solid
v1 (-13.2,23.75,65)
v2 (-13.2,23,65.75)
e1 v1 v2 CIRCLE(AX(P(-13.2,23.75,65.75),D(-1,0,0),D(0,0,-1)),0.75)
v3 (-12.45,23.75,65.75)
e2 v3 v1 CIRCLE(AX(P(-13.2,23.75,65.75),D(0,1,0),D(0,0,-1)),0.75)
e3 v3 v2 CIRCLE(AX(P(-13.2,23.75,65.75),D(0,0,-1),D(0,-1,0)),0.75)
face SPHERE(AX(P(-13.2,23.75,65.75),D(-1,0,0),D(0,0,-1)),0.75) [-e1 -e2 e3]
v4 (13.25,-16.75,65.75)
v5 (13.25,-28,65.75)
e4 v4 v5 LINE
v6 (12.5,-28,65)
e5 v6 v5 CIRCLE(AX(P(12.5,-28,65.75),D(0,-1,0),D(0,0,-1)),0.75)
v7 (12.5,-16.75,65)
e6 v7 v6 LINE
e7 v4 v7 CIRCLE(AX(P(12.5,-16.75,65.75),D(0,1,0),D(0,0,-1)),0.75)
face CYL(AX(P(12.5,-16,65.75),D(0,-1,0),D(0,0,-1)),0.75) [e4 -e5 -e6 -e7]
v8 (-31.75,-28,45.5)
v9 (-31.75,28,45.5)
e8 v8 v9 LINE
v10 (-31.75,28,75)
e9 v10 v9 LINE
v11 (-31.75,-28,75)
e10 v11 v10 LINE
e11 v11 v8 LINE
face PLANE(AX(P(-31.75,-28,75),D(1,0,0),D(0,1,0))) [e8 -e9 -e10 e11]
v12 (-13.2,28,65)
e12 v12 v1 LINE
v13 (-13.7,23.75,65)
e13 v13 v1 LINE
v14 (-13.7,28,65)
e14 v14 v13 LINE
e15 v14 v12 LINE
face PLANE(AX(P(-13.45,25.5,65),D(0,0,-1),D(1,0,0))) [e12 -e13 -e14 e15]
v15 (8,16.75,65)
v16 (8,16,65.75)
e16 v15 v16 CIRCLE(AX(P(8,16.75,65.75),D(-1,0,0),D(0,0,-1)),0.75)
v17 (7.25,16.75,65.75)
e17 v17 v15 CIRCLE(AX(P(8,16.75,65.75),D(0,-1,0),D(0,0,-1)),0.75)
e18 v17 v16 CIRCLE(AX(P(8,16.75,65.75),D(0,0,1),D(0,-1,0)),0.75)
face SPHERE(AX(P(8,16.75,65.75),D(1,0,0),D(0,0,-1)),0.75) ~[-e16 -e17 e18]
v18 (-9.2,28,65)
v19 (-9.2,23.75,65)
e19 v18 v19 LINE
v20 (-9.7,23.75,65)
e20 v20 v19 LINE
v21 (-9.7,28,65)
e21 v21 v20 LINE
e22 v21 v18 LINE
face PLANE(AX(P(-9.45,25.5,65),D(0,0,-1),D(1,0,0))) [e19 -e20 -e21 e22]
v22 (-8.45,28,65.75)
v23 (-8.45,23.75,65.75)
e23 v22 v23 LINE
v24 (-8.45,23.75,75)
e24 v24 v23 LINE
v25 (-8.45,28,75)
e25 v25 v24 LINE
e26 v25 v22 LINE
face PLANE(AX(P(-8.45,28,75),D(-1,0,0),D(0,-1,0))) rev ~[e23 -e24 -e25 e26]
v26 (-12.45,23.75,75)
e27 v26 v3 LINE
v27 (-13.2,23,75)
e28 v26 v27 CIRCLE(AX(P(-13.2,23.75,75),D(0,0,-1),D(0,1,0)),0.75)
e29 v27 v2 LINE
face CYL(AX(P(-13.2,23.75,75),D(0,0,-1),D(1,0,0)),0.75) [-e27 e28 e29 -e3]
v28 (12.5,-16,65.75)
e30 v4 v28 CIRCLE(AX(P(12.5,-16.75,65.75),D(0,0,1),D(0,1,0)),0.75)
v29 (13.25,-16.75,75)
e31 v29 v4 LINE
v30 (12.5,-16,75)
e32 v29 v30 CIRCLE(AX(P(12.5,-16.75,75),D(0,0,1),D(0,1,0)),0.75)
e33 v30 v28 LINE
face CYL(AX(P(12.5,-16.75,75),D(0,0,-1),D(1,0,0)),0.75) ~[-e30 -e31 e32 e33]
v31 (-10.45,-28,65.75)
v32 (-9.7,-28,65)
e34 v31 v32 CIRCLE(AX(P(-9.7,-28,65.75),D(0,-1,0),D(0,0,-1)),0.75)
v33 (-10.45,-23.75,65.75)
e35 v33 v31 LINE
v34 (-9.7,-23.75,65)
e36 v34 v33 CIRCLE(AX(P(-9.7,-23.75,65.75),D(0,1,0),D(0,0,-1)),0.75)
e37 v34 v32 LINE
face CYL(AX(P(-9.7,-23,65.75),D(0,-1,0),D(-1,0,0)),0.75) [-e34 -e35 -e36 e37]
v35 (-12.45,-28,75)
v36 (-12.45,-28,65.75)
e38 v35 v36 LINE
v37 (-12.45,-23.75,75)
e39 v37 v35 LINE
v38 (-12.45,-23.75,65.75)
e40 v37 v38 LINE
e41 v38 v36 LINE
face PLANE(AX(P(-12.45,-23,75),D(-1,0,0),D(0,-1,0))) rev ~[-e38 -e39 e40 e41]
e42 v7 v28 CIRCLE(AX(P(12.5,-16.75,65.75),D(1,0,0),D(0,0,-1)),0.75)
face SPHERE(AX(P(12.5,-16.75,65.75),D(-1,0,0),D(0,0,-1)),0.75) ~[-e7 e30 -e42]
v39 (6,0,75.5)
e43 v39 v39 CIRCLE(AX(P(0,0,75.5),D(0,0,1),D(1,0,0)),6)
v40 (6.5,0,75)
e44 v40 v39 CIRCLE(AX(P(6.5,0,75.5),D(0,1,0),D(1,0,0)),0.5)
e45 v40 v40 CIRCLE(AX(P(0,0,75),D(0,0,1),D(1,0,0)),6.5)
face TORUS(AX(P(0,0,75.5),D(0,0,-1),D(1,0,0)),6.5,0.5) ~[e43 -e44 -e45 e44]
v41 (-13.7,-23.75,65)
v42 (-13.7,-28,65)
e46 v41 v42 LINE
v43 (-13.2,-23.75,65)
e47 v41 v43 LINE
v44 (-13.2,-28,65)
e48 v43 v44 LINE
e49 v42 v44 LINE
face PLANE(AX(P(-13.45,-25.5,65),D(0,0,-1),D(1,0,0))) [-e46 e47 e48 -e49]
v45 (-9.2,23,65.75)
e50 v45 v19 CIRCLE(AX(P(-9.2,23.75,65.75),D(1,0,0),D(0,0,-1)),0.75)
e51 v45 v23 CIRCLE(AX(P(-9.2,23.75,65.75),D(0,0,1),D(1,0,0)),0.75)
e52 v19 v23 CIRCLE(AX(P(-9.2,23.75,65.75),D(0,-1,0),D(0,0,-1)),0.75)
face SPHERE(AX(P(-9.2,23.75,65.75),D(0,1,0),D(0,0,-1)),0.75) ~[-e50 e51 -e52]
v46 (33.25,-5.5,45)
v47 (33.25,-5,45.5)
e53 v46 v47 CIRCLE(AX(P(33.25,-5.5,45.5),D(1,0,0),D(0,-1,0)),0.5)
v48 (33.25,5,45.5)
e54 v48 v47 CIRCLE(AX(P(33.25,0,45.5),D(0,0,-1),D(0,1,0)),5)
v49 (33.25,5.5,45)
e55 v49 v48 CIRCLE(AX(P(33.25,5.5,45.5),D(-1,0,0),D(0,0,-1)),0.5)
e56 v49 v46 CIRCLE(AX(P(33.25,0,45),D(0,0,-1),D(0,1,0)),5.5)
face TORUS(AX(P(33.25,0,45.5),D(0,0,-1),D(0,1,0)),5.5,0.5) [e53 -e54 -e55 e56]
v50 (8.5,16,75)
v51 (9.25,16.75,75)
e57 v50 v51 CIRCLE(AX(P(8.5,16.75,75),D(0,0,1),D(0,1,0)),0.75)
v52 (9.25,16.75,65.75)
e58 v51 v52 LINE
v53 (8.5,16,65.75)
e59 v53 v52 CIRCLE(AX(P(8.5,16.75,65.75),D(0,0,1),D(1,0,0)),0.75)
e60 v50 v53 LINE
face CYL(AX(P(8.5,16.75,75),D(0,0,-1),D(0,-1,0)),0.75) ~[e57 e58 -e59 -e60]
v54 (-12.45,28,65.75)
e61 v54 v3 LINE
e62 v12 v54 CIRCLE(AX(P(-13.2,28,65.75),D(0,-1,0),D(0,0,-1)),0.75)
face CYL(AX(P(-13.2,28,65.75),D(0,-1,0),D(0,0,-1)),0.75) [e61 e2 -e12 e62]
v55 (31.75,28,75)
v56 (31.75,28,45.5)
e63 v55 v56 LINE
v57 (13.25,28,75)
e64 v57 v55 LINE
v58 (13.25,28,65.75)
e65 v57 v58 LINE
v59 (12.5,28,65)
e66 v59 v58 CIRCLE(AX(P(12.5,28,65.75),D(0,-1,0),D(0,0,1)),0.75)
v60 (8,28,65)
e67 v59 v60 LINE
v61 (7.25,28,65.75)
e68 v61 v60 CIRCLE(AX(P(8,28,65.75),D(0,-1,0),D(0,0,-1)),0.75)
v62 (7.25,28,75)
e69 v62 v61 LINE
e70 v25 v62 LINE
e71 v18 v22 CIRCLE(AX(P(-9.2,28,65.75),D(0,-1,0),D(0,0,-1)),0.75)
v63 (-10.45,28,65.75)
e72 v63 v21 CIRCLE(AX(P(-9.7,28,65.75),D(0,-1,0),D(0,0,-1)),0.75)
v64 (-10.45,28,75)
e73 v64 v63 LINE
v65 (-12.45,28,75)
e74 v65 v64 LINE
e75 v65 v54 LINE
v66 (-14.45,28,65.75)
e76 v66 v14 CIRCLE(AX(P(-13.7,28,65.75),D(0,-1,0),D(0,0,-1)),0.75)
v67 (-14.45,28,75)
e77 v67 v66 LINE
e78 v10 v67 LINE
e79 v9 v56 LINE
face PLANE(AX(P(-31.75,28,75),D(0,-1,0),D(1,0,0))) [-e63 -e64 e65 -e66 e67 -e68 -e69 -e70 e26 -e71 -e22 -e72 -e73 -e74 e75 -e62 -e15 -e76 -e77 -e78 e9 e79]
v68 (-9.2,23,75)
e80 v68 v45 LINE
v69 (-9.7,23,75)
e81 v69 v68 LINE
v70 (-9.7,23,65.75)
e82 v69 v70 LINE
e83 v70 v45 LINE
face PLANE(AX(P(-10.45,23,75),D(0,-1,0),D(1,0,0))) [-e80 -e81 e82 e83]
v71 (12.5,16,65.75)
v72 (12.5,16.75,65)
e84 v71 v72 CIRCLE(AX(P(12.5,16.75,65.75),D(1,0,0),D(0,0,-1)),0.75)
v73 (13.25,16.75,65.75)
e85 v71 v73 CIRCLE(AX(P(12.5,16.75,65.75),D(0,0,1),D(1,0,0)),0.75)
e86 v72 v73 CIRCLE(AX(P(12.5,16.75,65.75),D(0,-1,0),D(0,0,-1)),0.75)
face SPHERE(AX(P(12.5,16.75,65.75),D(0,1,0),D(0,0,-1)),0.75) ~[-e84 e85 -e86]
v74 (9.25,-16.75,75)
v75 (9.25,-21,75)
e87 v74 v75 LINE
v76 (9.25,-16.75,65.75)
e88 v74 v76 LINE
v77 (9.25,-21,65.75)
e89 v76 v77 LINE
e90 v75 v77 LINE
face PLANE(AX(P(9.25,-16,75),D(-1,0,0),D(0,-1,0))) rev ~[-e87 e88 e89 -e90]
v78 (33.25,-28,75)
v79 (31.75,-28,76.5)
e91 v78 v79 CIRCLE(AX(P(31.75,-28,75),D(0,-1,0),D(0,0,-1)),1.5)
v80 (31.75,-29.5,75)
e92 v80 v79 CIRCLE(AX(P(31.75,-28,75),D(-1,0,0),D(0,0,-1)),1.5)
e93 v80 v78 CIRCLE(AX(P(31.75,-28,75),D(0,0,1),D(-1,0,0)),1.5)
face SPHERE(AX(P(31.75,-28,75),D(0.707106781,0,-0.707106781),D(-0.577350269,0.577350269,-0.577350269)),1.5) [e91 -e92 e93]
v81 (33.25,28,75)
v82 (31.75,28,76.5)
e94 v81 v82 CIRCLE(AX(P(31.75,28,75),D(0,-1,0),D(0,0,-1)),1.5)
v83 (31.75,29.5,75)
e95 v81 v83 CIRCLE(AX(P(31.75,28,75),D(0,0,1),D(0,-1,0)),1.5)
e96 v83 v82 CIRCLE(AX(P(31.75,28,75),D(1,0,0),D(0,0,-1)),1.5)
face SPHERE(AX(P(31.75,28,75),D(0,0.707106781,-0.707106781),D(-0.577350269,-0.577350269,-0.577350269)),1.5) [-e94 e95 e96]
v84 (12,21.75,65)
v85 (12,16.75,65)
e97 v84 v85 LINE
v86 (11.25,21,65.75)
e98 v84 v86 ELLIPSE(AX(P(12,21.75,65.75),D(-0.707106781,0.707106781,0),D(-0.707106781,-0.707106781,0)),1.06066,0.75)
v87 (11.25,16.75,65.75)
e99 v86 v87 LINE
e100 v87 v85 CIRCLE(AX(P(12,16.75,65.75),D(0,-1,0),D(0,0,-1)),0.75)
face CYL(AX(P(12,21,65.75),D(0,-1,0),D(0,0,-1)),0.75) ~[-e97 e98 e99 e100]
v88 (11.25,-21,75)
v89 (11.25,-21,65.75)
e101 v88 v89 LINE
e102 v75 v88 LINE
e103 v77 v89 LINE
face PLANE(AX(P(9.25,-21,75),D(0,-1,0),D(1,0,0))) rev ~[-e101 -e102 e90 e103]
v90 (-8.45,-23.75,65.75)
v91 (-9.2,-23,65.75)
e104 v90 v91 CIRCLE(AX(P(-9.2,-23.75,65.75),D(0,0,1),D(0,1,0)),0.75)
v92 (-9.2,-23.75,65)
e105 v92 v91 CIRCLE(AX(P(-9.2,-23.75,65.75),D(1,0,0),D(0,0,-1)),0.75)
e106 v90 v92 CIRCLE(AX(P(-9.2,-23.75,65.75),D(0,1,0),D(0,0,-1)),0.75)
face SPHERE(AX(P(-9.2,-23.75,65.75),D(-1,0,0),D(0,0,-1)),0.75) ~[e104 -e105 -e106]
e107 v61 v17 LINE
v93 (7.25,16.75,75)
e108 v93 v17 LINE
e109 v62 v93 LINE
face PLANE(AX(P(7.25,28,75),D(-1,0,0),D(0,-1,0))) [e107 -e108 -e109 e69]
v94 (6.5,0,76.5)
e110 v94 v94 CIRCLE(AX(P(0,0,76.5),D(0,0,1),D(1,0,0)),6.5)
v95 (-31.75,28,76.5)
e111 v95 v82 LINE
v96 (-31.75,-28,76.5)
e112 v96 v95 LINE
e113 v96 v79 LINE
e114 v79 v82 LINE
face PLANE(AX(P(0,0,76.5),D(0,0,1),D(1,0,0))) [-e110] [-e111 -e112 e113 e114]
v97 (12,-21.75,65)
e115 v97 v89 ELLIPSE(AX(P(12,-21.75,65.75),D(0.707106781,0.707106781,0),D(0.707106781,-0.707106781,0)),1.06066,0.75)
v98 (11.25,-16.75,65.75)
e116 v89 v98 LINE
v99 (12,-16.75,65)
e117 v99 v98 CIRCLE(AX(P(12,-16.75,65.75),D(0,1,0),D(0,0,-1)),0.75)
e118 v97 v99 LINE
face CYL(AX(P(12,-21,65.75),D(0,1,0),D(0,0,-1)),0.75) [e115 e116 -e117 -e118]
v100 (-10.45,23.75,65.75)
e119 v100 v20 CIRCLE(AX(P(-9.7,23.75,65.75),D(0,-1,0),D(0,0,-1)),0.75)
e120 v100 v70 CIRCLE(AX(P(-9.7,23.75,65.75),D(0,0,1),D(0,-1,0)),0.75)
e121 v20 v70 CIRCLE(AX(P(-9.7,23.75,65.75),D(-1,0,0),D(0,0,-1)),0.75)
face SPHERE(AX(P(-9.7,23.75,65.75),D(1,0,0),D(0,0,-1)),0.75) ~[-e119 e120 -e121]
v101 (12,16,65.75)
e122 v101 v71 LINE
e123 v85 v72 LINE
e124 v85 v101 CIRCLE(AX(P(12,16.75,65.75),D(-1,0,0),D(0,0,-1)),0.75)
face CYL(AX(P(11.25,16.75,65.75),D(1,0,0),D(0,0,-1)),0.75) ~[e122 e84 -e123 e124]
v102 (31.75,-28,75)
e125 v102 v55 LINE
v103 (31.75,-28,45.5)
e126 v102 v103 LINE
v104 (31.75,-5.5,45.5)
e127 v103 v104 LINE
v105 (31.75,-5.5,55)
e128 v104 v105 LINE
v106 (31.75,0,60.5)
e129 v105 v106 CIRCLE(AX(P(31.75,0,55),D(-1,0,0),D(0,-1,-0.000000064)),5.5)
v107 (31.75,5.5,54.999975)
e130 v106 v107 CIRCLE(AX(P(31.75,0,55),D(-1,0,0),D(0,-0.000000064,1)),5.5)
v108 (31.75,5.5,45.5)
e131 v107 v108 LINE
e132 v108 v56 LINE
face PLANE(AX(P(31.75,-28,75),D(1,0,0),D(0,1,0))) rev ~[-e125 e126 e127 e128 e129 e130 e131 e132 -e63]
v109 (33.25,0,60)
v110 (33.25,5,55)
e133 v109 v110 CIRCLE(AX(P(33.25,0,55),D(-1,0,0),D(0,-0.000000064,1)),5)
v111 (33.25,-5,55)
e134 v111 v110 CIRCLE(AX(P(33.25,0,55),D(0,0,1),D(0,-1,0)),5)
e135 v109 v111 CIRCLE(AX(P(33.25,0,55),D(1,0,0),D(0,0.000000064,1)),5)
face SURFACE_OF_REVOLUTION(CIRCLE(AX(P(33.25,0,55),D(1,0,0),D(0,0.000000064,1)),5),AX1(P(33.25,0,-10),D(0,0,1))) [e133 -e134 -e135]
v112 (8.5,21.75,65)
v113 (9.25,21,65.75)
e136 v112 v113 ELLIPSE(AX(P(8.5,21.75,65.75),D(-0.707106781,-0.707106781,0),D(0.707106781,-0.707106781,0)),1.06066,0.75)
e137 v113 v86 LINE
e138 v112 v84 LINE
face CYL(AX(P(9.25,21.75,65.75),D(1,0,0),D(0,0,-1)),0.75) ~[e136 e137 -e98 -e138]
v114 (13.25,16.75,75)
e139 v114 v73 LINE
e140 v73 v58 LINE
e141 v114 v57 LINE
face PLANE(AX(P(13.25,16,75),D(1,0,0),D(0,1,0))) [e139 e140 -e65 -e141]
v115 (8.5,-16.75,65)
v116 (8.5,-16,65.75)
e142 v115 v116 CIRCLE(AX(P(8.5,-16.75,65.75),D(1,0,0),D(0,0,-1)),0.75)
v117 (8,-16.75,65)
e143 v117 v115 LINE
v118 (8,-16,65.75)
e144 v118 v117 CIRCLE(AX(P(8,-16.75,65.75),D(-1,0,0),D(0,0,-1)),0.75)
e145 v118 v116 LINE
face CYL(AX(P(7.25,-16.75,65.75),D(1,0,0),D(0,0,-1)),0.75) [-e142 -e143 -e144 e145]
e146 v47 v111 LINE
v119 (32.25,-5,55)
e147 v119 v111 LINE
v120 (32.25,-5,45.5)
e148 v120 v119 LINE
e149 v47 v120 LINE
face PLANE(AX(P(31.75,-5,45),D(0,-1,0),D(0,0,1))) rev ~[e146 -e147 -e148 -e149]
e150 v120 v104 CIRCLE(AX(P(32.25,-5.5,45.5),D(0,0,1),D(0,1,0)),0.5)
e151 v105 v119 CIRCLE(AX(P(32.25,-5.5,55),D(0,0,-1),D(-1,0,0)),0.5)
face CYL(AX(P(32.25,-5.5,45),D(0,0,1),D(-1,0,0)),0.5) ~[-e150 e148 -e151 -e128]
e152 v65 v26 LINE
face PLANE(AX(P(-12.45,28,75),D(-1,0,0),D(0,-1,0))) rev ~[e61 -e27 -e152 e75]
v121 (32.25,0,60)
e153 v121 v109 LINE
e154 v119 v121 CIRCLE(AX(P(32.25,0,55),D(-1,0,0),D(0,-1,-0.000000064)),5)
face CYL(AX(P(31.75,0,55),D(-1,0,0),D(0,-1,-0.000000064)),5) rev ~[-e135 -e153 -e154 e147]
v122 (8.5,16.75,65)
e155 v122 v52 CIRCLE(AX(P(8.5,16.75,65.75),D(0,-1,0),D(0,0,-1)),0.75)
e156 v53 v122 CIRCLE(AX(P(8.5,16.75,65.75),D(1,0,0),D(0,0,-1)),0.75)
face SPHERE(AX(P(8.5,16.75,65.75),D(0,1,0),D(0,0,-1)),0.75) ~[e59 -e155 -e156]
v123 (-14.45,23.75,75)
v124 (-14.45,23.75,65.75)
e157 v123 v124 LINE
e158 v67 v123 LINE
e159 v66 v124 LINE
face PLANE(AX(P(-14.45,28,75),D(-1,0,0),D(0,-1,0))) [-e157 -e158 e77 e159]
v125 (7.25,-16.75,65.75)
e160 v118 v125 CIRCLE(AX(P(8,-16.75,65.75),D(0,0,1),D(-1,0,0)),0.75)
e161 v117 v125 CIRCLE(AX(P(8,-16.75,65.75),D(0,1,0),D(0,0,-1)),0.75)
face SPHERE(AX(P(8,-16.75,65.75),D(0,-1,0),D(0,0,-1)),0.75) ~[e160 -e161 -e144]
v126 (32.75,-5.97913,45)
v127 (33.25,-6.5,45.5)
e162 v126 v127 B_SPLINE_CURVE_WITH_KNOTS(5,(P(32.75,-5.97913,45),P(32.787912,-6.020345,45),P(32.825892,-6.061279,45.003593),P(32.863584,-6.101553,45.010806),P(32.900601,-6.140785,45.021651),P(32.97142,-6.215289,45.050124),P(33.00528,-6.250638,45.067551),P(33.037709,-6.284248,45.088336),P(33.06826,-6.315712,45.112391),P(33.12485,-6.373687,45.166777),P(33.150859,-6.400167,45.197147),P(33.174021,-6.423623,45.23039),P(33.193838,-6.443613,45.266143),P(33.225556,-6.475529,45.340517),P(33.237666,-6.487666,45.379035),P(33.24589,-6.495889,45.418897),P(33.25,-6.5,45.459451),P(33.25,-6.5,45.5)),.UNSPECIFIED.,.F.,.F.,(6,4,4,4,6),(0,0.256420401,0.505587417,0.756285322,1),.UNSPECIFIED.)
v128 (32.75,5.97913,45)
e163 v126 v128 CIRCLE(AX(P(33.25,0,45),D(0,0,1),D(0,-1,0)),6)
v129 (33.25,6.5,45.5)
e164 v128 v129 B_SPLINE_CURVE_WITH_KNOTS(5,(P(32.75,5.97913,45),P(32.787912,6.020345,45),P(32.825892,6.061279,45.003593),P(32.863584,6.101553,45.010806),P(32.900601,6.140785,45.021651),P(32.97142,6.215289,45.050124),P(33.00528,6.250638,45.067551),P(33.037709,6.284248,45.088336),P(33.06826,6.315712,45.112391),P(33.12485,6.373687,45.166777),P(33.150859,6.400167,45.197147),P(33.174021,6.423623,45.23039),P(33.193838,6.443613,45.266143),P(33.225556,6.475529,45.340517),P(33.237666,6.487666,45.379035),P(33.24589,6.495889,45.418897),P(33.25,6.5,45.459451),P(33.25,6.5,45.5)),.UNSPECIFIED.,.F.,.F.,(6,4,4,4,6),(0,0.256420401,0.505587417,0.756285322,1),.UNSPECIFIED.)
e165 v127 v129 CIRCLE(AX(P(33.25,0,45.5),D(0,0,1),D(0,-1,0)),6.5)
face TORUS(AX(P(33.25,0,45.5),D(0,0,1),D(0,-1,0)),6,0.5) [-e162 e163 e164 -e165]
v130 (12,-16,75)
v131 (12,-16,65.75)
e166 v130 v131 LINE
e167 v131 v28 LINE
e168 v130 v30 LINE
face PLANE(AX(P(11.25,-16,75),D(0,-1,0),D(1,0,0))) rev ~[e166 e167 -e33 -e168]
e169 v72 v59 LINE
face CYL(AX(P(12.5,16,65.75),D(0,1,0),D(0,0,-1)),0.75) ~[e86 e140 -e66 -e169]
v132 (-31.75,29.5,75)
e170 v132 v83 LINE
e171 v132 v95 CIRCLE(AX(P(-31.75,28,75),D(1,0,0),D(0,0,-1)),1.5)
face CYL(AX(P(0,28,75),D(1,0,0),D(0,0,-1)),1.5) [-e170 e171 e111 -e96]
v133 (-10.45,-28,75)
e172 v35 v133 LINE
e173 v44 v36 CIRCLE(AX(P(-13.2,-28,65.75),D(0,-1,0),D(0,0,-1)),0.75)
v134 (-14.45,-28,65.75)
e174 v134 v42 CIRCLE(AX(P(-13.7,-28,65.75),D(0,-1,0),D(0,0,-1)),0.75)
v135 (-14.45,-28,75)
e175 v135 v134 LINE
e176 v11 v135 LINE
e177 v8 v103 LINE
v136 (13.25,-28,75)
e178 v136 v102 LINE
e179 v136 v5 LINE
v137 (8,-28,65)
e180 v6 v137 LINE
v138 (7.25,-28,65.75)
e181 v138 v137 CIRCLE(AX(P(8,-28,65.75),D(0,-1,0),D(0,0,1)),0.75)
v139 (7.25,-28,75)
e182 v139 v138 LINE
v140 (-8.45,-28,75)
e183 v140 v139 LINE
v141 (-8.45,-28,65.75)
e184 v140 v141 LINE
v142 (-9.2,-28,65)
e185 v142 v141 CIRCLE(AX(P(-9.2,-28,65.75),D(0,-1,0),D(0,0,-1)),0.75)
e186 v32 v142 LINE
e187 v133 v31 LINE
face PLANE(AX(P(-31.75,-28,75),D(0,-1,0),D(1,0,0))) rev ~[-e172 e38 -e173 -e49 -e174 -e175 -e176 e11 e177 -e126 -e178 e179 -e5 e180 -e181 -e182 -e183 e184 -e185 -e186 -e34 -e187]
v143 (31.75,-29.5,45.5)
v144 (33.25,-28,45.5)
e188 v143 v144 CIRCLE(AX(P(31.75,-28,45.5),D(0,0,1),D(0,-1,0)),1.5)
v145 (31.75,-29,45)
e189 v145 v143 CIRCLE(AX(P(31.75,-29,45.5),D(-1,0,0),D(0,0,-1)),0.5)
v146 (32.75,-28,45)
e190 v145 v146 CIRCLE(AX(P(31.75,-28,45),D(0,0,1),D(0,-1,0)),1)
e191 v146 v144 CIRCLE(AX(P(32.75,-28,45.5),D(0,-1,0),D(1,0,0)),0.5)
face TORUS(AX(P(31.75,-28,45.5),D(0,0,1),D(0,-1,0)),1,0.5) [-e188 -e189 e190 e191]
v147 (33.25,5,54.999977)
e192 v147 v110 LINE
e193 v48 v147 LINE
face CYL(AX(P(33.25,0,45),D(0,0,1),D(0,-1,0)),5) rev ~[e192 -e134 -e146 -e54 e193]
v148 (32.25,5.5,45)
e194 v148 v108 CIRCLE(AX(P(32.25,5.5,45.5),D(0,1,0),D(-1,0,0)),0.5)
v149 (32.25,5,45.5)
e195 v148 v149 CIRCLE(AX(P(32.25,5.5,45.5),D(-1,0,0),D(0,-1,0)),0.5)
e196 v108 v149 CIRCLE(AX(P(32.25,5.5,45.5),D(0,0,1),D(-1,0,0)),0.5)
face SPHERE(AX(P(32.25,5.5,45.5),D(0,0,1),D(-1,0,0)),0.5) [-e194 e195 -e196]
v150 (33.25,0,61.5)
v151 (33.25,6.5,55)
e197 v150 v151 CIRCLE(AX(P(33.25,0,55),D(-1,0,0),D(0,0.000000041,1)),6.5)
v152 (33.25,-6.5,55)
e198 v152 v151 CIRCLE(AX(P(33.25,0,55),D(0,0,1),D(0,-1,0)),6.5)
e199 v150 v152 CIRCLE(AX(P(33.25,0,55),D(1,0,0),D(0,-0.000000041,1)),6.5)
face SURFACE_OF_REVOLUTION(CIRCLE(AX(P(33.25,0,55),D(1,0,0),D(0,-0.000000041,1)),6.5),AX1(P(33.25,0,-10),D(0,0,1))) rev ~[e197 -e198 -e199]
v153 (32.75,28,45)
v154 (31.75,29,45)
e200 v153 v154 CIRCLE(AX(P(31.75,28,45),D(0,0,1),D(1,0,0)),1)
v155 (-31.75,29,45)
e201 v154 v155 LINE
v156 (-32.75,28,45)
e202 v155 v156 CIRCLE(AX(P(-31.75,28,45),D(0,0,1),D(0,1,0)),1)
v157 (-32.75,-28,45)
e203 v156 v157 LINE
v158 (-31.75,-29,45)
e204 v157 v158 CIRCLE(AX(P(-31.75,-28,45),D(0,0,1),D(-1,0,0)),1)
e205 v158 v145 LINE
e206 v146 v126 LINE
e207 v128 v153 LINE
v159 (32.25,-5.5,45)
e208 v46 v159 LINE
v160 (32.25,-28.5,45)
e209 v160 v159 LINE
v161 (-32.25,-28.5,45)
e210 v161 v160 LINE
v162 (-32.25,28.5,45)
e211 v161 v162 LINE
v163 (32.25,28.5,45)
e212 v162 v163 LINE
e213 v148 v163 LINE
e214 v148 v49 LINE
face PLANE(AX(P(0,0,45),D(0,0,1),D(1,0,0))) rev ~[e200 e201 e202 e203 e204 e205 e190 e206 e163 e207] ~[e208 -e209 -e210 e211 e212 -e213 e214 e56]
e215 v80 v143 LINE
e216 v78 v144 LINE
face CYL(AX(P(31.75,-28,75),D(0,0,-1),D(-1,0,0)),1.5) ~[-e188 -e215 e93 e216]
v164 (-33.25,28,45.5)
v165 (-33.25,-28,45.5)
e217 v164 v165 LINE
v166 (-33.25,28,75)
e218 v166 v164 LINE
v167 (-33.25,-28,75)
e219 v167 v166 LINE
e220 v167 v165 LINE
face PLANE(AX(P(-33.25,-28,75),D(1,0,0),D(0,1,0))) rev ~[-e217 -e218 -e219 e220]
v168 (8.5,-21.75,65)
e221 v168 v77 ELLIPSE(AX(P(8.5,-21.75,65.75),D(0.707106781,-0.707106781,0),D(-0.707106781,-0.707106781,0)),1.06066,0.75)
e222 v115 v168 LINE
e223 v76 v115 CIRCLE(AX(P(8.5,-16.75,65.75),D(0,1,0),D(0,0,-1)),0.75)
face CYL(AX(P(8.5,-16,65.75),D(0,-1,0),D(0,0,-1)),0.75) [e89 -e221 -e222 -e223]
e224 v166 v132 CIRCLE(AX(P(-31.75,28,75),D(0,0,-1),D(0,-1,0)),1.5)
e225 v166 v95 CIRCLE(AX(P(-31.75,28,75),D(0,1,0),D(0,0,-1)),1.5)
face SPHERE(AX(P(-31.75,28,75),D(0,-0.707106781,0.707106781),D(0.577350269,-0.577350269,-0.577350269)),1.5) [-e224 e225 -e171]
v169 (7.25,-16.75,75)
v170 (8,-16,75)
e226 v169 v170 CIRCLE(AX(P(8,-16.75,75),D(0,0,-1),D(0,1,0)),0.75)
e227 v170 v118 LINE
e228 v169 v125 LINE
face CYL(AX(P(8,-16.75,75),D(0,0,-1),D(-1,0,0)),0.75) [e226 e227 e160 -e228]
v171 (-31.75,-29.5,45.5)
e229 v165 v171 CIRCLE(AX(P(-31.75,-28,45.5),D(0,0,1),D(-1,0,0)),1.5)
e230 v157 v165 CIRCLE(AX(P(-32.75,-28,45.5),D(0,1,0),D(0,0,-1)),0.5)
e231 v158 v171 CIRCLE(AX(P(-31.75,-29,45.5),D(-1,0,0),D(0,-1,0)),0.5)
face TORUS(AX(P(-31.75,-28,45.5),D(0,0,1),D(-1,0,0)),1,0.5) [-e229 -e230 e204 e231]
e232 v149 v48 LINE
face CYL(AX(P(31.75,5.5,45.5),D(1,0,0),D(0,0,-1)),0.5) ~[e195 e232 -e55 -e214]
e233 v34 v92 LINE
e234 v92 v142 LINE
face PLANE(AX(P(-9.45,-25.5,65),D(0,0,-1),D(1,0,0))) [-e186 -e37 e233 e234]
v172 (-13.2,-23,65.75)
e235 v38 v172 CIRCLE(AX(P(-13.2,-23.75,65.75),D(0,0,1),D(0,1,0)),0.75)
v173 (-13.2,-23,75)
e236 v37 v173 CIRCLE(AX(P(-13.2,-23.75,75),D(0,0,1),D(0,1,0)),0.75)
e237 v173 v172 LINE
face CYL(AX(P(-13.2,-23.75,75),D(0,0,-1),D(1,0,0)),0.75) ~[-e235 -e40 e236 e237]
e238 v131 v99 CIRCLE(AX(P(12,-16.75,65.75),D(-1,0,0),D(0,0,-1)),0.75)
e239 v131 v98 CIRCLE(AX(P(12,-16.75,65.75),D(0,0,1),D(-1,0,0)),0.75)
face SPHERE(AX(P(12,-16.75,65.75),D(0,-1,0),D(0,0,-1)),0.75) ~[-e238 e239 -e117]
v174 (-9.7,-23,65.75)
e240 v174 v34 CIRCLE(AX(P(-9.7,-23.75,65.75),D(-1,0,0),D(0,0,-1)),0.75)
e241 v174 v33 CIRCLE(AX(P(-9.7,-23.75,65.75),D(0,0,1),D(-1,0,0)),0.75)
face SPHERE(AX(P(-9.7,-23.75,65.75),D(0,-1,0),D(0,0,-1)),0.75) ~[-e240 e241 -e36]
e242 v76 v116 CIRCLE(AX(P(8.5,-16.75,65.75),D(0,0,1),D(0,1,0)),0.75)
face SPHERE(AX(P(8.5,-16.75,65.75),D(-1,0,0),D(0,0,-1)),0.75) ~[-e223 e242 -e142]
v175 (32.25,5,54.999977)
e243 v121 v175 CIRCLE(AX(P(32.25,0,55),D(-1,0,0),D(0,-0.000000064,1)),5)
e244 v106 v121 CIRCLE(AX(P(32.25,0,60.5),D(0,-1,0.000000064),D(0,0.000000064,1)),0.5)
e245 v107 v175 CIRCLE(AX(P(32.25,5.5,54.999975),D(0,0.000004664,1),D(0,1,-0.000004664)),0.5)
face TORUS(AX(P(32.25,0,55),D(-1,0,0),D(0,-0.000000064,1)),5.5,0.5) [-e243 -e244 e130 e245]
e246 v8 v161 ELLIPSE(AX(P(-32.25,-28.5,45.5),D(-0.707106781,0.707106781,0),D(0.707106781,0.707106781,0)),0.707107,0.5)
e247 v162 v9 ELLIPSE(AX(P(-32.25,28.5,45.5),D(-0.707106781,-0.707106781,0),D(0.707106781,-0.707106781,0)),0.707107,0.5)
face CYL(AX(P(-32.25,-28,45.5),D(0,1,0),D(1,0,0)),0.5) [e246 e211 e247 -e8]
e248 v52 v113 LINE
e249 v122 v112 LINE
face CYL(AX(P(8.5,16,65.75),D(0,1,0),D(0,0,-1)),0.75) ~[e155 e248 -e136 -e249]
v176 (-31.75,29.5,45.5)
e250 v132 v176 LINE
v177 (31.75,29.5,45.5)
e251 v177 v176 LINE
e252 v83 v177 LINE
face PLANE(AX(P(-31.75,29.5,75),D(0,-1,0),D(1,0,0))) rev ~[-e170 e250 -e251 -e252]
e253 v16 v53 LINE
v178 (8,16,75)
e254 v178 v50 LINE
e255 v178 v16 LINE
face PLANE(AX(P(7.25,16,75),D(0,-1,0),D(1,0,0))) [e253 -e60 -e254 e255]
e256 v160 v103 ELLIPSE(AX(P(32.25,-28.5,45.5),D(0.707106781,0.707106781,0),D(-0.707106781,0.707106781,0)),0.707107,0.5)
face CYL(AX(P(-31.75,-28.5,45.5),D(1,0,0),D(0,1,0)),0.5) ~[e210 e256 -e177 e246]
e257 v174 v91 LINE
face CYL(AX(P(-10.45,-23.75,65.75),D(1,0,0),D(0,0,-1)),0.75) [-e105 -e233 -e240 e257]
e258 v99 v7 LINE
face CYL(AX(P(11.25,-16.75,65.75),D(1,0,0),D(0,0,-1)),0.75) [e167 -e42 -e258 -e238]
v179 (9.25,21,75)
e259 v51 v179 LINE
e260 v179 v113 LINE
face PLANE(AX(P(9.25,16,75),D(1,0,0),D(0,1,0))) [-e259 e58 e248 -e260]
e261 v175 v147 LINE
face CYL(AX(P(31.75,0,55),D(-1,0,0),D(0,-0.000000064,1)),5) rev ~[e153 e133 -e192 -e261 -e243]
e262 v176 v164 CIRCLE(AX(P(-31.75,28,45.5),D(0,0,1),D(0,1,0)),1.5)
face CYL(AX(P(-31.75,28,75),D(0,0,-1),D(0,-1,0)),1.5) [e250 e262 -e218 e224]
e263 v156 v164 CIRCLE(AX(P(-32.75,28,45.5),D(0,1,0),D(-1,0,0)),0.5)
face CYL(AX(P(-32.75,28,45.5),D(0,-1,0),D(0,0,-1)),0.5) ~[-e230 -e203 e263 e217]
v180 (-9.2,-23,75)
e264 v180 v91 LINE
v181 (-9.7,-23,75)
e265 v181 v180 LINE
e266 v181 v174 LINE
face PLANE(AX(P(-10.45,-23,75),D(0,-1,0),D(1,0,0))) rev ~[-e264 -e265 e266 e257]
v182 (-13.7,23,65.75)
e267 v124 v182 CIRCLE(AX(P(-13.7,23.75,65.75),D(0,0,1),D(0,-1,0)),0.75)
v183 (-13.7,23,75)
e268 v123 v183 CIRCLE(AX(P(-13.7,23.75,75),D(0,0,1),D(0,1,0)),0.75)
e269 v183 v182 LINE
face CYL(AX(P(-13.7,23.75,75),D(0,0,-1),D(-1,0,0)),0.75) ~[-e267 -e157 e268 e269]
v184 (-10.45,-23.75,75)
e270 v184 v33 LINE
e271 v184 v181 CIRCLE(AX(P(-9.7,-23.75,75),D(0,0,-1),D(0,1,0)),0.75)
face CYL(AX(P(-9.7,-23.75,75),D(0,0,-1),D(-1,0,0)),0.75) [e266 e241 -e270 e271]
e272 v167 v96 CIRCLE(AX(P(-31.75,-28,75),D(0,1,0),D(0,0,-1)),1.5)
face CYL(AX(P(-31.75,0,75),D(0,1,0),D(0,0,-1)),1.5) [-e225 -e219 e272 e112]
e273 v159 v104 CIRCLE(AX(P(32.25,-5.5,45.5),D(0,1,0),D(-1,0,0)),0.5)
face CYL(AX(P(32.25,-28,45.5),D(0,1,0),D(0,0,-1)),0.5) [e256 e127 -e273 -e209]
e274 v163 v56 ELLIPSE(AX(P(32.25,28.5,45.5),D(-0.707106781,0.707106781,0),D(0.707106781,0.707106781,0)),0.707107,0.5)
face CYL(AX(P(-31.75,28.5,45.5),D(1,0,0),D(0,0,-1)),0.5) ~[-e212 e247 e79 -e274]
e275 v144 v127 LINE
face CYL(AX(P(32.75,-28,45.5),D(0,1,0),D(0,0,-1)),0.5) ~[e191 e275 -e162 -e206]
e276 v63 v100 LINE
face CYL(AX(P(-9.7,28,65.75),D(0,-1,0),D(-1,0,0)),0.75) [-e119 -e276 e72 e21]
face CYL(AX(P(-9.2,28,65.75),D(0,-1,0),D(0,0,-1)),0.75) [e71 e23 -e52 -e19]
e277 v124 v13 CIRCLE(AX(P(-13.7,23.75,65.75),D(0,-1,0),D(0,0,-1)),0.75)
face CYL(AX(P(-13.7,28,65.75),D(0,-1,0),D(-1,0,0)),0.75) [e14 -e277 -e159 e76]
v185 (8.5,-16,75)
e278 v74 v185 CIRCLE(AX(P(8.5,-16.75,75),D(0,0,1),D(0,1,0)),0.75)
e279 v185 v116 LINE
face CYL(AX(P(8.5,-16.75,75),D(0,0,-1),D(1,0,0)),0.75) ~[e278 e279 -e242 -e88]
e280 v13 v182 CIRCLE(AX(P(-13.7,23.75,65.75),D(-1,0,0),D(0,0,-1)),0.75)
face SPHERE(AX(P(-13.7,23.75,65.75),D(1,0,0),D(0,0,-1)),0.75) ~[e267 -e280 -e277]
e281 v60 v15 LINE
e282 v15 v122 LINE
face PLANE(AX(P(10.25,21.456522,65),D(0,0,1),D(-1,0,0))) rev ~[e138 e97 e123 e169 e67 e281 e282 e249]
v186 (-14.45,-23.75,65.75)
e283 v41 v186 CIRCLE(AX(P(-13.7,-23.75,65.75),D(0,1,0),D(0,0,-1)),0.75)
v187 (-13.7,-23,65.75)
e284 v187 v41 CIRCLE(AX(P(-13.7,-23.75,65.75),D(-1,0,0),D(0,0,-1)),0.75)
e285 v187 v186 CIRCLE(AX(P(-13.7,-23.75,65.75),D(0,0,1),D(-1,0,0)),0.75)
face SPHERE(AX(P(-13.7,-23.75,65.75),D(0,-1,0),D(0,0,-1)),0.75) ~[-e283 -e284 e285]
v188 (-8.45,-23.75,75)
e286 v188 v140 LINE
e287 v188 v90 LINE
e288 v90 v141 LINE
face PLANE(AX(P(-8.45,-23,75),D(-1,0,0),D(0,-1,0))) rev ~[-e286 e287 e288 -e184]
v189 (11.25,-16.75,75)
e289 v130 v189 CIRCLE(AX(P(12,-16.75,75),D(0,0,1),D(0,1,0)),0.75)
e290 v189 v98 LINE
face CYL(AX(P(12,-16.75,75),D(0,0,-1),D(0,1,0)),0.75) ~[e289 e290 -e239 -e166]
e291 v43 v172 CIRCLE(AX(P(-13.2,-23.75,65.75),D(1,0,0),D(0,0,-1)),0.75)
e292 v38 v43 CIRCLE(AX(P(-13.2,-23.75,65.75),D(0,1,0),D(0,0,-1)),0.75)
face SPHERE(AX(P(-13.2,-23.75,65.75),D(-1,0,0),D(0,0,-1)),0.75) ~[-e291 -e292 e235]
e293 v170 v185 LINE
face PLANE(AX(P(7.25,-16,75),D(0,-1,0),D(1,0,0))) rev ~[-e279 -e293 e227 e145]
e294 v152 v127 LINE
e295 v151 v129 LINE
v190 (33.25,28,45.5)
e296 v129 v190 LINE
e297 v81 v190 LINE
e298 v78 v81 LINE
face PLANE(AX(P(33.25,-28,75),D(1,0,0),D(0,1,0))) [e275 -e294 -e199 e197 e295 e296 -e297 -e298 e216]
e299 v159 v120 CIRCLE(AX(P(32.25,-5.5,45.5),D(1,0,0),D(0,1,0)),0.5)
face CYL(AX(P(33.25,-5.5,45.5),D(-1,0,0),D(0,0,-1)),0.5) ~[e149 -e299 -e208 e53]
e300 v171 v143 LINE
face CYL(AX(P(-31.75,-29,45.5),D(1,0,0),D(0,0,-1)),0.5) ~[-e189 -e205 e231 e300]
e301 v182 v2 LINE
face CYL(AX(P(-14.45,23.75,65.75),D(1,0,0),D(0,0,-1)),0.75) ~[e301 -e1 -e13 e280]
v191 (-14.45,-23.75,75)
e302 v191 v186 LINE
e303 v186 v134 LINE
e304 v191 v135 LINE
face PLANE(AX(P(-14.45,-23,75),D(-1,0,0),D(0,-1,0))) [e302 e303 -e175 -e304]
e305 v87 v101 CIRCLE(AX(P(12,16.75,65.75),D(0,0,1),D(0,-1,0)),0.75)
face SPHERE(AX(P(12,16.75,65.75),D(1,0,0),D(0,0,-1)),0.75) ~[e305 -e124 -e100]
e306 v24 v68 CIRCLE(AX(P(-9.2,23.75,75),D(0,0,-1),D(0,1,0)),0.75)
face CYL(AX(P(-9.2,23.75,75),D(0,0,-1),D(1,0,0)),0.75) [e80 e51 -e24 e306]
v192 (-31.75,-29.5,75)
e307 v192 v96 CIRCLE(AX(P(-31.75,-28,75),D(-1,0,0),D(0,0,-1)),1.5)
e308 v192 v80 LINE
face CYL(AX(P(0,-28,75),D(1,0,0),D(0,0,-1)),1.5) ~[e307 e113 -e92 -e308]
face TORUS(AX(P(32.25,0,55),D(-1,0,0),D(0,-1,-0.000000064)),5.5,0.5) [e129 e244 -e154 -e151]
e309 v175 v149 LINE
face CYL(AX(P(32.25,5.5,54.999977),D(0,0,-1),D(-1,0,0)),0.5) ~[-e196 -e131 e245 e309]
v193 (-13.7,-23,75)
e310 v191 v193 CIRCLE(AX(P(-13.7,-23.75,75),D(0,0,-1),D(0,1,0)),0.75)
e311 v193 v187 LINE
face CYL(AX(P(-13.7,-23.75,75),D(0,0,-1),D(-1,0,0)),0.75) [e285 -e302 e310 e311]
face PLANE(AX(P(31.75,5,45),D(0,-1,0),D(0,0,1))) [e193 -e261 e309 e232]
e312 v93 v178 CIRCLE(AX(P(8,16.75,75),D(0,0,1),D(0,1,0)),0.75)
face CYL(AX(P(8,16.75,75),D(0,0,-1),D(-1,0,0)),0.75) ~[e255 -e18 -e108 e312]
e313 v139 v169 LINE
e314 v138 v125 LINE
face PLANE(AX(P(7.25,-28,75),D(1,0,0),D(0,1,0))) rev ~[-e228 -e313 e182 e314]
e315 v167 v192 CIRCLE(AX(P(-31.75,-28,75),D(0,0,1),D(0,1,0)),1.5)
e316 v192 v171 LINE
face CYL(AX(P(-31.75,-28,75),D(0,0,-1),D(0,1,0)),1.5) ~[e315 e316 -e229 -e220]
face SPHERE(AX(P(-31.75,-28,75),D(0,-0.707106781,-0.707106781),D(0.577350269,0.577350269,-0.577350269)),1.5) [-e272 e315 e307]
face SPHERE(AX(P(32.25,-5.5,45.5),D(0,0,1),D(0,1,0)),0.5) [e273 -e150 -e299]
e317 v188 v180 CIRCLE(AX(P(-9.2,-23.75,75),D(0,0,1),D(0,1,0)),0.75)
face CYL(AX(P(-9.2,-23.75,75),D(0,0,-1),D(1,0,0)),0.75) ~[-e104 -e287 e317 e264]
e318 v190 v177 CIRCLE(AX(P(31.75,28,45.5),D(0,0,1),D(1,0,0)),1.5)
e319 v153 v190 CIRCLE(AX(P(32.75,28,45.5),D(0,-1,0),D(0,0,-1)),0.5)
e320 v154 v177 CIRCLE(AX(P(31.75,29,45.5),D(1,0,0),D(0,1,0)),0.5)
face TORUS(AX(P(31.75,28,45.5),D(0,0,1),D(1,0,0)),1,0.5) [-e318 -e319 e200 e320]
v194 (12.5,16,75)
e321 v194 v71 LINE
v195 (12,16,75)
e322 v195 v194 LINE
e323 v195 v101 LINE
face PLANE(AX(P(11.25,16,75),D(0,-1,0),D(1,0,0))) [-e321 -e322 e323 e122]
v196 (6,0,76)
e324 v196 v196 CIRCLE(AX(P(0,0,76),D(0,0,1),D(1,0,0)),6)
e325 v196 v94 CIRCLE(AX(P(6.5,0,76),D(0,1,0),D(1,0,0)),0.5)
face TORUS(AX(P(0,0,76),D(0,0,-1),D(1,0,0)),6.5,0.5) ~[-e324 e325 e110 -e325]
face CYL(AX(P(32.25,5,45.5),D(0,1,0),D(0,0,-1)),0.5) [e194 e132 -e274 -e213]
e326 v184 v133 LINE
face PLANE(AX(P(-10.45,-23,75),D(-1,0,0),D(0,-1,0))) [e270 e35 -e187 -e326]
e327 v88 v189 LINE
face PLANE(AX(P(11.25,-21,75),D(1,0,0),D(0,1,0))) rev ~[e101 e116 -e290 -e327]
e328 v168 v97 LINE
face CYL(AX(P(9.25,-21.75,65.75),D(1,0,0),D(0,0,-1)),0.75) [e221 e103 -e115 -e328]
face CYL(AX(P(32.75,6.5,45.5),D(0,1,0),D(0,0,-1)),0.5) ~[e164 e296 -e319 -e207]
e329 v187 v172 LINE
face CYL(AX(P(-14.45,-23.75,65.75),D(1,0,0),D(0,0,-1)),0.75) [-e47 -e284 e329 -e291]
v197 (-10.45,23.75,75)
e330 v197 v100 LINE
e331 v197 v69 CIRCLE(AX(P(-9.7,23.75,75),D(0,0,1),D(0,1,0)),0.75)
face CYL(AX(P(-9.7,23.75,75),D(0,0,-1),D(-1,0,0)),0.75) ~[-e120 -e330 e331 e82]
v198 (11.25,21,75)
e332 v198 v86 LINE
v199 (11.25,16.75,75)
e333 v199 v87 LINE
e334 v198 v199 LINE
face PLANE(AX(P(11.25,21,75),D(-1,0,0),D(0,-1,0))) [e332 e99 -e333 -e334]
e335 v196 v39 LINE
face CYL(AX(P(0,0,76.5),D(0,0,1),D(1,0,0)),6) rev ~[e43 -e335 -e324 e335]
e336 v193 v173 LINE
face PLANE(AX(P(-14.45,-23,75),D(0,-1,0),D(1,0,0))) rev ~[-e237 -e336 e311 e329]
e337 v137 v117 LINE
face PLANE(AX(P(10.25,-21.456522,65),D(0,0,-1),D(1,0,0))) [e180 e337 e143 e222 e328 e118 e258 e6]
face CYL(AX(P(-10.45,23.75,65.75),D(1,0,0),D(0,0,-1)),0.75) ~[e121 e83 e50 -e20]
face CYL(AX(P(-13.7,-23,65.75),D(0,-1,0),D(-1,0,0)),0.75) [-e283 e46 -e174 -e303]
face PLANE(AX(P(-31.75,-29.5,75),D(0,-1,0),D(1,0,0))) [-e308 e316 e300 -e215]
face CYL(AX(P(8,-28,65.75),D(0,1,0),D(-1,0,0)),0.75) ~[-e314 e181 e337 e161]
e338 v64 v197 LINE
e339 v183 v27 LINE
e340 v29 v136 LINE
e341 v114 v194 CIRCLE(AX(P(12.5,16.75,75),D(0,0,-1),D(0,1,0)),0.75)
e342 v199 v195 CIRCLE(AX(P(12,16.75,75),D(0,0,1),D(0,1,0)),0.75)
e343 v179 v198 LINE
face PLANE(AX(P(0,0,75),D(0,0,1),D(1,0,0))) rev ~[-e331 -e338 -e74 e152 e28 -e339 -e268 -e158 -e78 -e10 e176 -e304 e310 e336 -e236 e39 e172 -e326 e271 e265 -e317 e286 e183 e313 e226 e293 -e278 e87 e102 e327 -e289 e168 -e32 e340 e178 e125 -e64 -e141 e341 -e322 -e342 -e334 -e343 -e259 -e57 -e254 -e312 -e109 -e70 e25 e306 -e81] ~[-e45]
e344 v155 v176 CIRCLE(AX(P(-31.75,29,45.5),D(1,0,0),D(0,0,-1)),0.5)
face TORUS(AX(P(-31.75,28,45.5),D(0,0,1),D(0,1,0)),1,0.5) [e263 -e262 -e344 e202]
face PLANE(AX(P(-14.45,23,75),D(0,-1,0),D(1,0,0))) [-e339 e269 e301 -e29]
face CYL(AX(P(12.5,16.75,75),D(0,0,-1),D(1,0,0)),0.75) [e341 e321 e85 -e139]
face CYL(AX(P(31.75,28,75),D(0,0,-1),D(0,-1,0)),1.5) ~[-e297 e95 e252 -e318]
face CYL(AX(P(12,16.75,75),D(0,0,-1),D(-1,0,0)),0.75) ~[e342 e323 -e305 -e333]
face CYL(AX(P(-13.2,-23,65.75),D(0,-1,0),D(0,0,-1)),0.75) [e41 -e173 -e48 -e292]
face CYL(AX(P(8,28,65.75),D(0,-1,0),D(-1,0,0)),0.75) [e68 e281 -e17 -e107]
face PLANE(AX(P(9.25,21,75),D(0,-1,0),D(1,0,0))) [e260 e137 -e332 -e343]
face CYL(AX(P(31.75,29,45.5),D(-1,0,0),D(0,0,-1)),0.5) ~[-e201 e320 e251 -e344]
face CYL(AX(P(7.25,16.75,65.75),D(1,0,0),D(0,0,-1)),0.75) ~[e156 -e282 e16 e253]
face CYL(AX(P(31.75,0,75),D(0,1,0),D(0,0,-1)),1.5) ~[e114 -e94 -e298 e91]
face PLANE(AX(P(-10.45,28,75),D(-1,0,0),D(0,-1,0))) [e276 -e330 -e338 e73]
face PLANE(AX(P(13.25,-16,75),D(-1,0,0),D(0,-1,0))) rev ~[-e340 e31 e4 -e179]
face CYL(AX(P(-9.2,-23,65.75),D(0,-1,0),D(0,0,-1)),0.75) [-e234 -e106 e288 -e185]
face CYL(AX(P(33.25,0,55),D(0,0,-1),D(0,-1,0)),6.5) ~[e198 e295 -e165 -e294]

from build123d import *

# Parameters (mm, degrees)
SKETCH006_W      = 63.5
SKETCH006_H      = 56
PAD004_DEPTH     = 30
THICKNESS001_T   = 1.5
SKETCH007_W      = 2
SKETCH007_H      = 5
PAD005_DEPTH     = 10
FILLET002_R      = 0.75
REVOLUTION_ANGLE = 180
POCKET001_DEPTH  = 1.5
SKETCH019_R      = 6
POCKET007_DEPTH  = 1.5
FILLET003_R      = 0.5


with BuildPart() as part:
    # Sketch006 → Pad004 (new body)
    with BuildSketch(Plane.XY.offset(85)):
        Rectangle(SKETCH006_W, SKETCH006_H)
    extrude(amount=-PAD004_DEPTH)

    # Thickness001
    thickness001_openings = [part.faces().sort_by_distance(p)[0] for p in [
        (0, 0, 55),
    ]]
    offset(amount=THICKNESS001_T, openings=thickness001_openings)

    # Sketch007 (on Face5 of Thickness001) → Pad005 (join)
    with BuildSketch(Plane(origin=(0, 0, 85), x_dir=(1, 0, 0), z_dir=(0, 0, -1))):
        with Locations((-9.45, 25.5)):
            Rectangle(SKETCH007_W, SKETCH007_H)
        with Locations((-13.45, -25.5)):
            Rectangle(SKETCH007_W, SKETCH007_H)
        with Locations((-13.45, 25.5)):
            Rectangle(SKETCH007_W, SKETCH007_H)
        Polygon((7.25, 16), (9.25, 16), (9.25, 21), (11.25, 21), (11.25, 16), (13.25, 16), (13.25, 28), (7.25, 28), align=None)
        Polygon((7.25, -16), (9.25, -16), (9.25, -21), (11.25, -21), (11.25, -16), (13.25, -16), (13.25, -28), (7.25, -28), align=None)
        with Locations((-9.45, -25.5)):
            Rectangle(SKETCH007_W, SKETCH007_H)
    extrude(amount=PAD005_DEPTH)

    # Fillet002
    fillet002_edges = [part.edges().sort_by_distance(p)[0] for p in [
        (-14.45, -25.5, 75),
        (-13.45, -23, 75),
        (-12.45, -25.5, 75),
        (-10.45, -25.5, 75),
        (-9.45, -23, 75),
        (-8.45, -25.5, 75),
        (7.25, -22, 75),
        (8.25, -16, 75),
        (9.25, -18.5, 75),
        (10.25, -21, 75),
        (11.25, -18.5, 75),
        (12.25, -16, 75),
        (13.25, -22, 75),
        (13.25, 22, 75),
        (12.25, 16, 75),
        (11.25, 18.5, 75),
        (10.25, 21, 75),
        (9.25, 18.5, 75),
        (8.25, 16, 75),
        (7.25, 22, 75),
        (-8.45, 25.5, 75),
        (-9.45, 23, 75),
        (-10.45, 25.5, 75),
        (-13.45, 23, 75),
        (-12.45, 25.5, 75),
        (-14.45, 25.5, 75),
        (-14.45, -23, 80),
        (-12.45, -23, 80),
        (-10.45, -23, 80),
        (-8.45, -23, 80),
        (7.25, -16, 80),
        (9.25, -16, 80),
        (11.25, -16, 80),
        (13.25, -16, 80),
        (13.25, 16, 80),
        (11.25, 16, 80),
        (9.25, 16, 80),
        (7.25, 16, 80),
        (-8.45, 23, 80),
        (-10.45, 23, 80),
        (-12.45, 23, 80),
        (-14.45, 23, 80),
    ]]
    fillet(fillet002_edges, radius=FILLET002_R)

    # Sketch008 (on Face61 of Fillet002) → Revolution (revolve)
    with BuildSketch(Plane.YZ.offset(33.25)):
        with BuildLine():
            Line((-6.5, 55), (-5, 55))
            Line((-5, 55), (-5, 65))
            ThreePointArc((0, 70), (-3.535534, 68.535534), (-5, 65))
            Line((0, 71.5), (0, 70))
            ThreePointArc((0, 71.5), (-4.596194, 69.596194), (-6.5, 65))
            Line((-6.5, 65), (-6.5, 55))
        make_face()
    revolve(axis=Axis((33.25, 0, 0), (0, 0, 1)), revolution_arc=REVOLUTION_ANGLE)

    # Sketch009 (on Face29 of Revolution) → Pocket001 (cut)
    with BuildSketch(Plane(origin=(31.75, 0, 0), x_dir=(0, -1, 0), z_dir=(-1, 0, 0))):
        with BuildLine():
            Line((5, 55), (5, 65))
            ThreePointArc((5, 65), (3.535534, 68.535534), (0, 70))
            ThreePointArc((0, 70), (-3.535542, 68.535526), (-5, 64.999977))
            Line((-5, 55), (-5, 64.999977))
            Line((-5, 55), (5, 55))
        make_face()
    extrude(amount=-POCKET001_DEPTH, mode=Mode.SUBTRACT)

    # Sketch019 → Pocket007 (cut)
    with BuildSketch(Plane.XY.offset(86.5)):
        Circle(SKETCH019_R)
    extrude(amount=-POCKET007_DEPTH, mode=Mode.SUBTRACT)

    # Fillet003
    fillet003_edges = [part.edges().sort_by_distance(p)[0] for p in [
        (31.75, -3.535534, 68.535534),
        (32.5, 0, 70),
        (33.25, -3.535534, 68.535534),
        (32.5, -5, 65),
        (31.75, 3.535542, 68.535526),
        (32.5, 5, 64.999977),
        (33.25, 3.535534, 68.535534),
        (33.25, 17.25, 55),
        (32.81066, 29.06066, 55),
        (39.75, 0, 55),
        (0, 29.5, 55),
        (33.25, -17.25, 55),
        (-32.81066, 29.06066, 55),
        (32.81066, -29.06066, 55),
        (-33.25, 0, 55),
        (0, -29.5, 55),
        (-32.81066, -29.06066, 55),
        (0, 28, 55),
        (31.75, 16.5, 55),
        (32.5, 5, 55),
        (38.25, 0, 55),
        (32.5, -5, 55),
        (31.75, -16.5, 55),
        (0, -28, 55),
        (-31.75, 0, 55),
        (31.75, -5, 60),
        (33.25, -5, 60),
        (31.75, 5, 59.999988),
        (33.25, 5, 59.999988),
        (-6, 0, 86.5),
        (6, 0, 85.75),
        (-6, 0, 85),
    ]]
    fillet(fillet003_edges, radius=FILLET003_R)


with BuildPart() as part_1:
    # Body001 placement: moved
    add(part.part.moved(Location((0, 0, -10))))


solid = part_1.part
